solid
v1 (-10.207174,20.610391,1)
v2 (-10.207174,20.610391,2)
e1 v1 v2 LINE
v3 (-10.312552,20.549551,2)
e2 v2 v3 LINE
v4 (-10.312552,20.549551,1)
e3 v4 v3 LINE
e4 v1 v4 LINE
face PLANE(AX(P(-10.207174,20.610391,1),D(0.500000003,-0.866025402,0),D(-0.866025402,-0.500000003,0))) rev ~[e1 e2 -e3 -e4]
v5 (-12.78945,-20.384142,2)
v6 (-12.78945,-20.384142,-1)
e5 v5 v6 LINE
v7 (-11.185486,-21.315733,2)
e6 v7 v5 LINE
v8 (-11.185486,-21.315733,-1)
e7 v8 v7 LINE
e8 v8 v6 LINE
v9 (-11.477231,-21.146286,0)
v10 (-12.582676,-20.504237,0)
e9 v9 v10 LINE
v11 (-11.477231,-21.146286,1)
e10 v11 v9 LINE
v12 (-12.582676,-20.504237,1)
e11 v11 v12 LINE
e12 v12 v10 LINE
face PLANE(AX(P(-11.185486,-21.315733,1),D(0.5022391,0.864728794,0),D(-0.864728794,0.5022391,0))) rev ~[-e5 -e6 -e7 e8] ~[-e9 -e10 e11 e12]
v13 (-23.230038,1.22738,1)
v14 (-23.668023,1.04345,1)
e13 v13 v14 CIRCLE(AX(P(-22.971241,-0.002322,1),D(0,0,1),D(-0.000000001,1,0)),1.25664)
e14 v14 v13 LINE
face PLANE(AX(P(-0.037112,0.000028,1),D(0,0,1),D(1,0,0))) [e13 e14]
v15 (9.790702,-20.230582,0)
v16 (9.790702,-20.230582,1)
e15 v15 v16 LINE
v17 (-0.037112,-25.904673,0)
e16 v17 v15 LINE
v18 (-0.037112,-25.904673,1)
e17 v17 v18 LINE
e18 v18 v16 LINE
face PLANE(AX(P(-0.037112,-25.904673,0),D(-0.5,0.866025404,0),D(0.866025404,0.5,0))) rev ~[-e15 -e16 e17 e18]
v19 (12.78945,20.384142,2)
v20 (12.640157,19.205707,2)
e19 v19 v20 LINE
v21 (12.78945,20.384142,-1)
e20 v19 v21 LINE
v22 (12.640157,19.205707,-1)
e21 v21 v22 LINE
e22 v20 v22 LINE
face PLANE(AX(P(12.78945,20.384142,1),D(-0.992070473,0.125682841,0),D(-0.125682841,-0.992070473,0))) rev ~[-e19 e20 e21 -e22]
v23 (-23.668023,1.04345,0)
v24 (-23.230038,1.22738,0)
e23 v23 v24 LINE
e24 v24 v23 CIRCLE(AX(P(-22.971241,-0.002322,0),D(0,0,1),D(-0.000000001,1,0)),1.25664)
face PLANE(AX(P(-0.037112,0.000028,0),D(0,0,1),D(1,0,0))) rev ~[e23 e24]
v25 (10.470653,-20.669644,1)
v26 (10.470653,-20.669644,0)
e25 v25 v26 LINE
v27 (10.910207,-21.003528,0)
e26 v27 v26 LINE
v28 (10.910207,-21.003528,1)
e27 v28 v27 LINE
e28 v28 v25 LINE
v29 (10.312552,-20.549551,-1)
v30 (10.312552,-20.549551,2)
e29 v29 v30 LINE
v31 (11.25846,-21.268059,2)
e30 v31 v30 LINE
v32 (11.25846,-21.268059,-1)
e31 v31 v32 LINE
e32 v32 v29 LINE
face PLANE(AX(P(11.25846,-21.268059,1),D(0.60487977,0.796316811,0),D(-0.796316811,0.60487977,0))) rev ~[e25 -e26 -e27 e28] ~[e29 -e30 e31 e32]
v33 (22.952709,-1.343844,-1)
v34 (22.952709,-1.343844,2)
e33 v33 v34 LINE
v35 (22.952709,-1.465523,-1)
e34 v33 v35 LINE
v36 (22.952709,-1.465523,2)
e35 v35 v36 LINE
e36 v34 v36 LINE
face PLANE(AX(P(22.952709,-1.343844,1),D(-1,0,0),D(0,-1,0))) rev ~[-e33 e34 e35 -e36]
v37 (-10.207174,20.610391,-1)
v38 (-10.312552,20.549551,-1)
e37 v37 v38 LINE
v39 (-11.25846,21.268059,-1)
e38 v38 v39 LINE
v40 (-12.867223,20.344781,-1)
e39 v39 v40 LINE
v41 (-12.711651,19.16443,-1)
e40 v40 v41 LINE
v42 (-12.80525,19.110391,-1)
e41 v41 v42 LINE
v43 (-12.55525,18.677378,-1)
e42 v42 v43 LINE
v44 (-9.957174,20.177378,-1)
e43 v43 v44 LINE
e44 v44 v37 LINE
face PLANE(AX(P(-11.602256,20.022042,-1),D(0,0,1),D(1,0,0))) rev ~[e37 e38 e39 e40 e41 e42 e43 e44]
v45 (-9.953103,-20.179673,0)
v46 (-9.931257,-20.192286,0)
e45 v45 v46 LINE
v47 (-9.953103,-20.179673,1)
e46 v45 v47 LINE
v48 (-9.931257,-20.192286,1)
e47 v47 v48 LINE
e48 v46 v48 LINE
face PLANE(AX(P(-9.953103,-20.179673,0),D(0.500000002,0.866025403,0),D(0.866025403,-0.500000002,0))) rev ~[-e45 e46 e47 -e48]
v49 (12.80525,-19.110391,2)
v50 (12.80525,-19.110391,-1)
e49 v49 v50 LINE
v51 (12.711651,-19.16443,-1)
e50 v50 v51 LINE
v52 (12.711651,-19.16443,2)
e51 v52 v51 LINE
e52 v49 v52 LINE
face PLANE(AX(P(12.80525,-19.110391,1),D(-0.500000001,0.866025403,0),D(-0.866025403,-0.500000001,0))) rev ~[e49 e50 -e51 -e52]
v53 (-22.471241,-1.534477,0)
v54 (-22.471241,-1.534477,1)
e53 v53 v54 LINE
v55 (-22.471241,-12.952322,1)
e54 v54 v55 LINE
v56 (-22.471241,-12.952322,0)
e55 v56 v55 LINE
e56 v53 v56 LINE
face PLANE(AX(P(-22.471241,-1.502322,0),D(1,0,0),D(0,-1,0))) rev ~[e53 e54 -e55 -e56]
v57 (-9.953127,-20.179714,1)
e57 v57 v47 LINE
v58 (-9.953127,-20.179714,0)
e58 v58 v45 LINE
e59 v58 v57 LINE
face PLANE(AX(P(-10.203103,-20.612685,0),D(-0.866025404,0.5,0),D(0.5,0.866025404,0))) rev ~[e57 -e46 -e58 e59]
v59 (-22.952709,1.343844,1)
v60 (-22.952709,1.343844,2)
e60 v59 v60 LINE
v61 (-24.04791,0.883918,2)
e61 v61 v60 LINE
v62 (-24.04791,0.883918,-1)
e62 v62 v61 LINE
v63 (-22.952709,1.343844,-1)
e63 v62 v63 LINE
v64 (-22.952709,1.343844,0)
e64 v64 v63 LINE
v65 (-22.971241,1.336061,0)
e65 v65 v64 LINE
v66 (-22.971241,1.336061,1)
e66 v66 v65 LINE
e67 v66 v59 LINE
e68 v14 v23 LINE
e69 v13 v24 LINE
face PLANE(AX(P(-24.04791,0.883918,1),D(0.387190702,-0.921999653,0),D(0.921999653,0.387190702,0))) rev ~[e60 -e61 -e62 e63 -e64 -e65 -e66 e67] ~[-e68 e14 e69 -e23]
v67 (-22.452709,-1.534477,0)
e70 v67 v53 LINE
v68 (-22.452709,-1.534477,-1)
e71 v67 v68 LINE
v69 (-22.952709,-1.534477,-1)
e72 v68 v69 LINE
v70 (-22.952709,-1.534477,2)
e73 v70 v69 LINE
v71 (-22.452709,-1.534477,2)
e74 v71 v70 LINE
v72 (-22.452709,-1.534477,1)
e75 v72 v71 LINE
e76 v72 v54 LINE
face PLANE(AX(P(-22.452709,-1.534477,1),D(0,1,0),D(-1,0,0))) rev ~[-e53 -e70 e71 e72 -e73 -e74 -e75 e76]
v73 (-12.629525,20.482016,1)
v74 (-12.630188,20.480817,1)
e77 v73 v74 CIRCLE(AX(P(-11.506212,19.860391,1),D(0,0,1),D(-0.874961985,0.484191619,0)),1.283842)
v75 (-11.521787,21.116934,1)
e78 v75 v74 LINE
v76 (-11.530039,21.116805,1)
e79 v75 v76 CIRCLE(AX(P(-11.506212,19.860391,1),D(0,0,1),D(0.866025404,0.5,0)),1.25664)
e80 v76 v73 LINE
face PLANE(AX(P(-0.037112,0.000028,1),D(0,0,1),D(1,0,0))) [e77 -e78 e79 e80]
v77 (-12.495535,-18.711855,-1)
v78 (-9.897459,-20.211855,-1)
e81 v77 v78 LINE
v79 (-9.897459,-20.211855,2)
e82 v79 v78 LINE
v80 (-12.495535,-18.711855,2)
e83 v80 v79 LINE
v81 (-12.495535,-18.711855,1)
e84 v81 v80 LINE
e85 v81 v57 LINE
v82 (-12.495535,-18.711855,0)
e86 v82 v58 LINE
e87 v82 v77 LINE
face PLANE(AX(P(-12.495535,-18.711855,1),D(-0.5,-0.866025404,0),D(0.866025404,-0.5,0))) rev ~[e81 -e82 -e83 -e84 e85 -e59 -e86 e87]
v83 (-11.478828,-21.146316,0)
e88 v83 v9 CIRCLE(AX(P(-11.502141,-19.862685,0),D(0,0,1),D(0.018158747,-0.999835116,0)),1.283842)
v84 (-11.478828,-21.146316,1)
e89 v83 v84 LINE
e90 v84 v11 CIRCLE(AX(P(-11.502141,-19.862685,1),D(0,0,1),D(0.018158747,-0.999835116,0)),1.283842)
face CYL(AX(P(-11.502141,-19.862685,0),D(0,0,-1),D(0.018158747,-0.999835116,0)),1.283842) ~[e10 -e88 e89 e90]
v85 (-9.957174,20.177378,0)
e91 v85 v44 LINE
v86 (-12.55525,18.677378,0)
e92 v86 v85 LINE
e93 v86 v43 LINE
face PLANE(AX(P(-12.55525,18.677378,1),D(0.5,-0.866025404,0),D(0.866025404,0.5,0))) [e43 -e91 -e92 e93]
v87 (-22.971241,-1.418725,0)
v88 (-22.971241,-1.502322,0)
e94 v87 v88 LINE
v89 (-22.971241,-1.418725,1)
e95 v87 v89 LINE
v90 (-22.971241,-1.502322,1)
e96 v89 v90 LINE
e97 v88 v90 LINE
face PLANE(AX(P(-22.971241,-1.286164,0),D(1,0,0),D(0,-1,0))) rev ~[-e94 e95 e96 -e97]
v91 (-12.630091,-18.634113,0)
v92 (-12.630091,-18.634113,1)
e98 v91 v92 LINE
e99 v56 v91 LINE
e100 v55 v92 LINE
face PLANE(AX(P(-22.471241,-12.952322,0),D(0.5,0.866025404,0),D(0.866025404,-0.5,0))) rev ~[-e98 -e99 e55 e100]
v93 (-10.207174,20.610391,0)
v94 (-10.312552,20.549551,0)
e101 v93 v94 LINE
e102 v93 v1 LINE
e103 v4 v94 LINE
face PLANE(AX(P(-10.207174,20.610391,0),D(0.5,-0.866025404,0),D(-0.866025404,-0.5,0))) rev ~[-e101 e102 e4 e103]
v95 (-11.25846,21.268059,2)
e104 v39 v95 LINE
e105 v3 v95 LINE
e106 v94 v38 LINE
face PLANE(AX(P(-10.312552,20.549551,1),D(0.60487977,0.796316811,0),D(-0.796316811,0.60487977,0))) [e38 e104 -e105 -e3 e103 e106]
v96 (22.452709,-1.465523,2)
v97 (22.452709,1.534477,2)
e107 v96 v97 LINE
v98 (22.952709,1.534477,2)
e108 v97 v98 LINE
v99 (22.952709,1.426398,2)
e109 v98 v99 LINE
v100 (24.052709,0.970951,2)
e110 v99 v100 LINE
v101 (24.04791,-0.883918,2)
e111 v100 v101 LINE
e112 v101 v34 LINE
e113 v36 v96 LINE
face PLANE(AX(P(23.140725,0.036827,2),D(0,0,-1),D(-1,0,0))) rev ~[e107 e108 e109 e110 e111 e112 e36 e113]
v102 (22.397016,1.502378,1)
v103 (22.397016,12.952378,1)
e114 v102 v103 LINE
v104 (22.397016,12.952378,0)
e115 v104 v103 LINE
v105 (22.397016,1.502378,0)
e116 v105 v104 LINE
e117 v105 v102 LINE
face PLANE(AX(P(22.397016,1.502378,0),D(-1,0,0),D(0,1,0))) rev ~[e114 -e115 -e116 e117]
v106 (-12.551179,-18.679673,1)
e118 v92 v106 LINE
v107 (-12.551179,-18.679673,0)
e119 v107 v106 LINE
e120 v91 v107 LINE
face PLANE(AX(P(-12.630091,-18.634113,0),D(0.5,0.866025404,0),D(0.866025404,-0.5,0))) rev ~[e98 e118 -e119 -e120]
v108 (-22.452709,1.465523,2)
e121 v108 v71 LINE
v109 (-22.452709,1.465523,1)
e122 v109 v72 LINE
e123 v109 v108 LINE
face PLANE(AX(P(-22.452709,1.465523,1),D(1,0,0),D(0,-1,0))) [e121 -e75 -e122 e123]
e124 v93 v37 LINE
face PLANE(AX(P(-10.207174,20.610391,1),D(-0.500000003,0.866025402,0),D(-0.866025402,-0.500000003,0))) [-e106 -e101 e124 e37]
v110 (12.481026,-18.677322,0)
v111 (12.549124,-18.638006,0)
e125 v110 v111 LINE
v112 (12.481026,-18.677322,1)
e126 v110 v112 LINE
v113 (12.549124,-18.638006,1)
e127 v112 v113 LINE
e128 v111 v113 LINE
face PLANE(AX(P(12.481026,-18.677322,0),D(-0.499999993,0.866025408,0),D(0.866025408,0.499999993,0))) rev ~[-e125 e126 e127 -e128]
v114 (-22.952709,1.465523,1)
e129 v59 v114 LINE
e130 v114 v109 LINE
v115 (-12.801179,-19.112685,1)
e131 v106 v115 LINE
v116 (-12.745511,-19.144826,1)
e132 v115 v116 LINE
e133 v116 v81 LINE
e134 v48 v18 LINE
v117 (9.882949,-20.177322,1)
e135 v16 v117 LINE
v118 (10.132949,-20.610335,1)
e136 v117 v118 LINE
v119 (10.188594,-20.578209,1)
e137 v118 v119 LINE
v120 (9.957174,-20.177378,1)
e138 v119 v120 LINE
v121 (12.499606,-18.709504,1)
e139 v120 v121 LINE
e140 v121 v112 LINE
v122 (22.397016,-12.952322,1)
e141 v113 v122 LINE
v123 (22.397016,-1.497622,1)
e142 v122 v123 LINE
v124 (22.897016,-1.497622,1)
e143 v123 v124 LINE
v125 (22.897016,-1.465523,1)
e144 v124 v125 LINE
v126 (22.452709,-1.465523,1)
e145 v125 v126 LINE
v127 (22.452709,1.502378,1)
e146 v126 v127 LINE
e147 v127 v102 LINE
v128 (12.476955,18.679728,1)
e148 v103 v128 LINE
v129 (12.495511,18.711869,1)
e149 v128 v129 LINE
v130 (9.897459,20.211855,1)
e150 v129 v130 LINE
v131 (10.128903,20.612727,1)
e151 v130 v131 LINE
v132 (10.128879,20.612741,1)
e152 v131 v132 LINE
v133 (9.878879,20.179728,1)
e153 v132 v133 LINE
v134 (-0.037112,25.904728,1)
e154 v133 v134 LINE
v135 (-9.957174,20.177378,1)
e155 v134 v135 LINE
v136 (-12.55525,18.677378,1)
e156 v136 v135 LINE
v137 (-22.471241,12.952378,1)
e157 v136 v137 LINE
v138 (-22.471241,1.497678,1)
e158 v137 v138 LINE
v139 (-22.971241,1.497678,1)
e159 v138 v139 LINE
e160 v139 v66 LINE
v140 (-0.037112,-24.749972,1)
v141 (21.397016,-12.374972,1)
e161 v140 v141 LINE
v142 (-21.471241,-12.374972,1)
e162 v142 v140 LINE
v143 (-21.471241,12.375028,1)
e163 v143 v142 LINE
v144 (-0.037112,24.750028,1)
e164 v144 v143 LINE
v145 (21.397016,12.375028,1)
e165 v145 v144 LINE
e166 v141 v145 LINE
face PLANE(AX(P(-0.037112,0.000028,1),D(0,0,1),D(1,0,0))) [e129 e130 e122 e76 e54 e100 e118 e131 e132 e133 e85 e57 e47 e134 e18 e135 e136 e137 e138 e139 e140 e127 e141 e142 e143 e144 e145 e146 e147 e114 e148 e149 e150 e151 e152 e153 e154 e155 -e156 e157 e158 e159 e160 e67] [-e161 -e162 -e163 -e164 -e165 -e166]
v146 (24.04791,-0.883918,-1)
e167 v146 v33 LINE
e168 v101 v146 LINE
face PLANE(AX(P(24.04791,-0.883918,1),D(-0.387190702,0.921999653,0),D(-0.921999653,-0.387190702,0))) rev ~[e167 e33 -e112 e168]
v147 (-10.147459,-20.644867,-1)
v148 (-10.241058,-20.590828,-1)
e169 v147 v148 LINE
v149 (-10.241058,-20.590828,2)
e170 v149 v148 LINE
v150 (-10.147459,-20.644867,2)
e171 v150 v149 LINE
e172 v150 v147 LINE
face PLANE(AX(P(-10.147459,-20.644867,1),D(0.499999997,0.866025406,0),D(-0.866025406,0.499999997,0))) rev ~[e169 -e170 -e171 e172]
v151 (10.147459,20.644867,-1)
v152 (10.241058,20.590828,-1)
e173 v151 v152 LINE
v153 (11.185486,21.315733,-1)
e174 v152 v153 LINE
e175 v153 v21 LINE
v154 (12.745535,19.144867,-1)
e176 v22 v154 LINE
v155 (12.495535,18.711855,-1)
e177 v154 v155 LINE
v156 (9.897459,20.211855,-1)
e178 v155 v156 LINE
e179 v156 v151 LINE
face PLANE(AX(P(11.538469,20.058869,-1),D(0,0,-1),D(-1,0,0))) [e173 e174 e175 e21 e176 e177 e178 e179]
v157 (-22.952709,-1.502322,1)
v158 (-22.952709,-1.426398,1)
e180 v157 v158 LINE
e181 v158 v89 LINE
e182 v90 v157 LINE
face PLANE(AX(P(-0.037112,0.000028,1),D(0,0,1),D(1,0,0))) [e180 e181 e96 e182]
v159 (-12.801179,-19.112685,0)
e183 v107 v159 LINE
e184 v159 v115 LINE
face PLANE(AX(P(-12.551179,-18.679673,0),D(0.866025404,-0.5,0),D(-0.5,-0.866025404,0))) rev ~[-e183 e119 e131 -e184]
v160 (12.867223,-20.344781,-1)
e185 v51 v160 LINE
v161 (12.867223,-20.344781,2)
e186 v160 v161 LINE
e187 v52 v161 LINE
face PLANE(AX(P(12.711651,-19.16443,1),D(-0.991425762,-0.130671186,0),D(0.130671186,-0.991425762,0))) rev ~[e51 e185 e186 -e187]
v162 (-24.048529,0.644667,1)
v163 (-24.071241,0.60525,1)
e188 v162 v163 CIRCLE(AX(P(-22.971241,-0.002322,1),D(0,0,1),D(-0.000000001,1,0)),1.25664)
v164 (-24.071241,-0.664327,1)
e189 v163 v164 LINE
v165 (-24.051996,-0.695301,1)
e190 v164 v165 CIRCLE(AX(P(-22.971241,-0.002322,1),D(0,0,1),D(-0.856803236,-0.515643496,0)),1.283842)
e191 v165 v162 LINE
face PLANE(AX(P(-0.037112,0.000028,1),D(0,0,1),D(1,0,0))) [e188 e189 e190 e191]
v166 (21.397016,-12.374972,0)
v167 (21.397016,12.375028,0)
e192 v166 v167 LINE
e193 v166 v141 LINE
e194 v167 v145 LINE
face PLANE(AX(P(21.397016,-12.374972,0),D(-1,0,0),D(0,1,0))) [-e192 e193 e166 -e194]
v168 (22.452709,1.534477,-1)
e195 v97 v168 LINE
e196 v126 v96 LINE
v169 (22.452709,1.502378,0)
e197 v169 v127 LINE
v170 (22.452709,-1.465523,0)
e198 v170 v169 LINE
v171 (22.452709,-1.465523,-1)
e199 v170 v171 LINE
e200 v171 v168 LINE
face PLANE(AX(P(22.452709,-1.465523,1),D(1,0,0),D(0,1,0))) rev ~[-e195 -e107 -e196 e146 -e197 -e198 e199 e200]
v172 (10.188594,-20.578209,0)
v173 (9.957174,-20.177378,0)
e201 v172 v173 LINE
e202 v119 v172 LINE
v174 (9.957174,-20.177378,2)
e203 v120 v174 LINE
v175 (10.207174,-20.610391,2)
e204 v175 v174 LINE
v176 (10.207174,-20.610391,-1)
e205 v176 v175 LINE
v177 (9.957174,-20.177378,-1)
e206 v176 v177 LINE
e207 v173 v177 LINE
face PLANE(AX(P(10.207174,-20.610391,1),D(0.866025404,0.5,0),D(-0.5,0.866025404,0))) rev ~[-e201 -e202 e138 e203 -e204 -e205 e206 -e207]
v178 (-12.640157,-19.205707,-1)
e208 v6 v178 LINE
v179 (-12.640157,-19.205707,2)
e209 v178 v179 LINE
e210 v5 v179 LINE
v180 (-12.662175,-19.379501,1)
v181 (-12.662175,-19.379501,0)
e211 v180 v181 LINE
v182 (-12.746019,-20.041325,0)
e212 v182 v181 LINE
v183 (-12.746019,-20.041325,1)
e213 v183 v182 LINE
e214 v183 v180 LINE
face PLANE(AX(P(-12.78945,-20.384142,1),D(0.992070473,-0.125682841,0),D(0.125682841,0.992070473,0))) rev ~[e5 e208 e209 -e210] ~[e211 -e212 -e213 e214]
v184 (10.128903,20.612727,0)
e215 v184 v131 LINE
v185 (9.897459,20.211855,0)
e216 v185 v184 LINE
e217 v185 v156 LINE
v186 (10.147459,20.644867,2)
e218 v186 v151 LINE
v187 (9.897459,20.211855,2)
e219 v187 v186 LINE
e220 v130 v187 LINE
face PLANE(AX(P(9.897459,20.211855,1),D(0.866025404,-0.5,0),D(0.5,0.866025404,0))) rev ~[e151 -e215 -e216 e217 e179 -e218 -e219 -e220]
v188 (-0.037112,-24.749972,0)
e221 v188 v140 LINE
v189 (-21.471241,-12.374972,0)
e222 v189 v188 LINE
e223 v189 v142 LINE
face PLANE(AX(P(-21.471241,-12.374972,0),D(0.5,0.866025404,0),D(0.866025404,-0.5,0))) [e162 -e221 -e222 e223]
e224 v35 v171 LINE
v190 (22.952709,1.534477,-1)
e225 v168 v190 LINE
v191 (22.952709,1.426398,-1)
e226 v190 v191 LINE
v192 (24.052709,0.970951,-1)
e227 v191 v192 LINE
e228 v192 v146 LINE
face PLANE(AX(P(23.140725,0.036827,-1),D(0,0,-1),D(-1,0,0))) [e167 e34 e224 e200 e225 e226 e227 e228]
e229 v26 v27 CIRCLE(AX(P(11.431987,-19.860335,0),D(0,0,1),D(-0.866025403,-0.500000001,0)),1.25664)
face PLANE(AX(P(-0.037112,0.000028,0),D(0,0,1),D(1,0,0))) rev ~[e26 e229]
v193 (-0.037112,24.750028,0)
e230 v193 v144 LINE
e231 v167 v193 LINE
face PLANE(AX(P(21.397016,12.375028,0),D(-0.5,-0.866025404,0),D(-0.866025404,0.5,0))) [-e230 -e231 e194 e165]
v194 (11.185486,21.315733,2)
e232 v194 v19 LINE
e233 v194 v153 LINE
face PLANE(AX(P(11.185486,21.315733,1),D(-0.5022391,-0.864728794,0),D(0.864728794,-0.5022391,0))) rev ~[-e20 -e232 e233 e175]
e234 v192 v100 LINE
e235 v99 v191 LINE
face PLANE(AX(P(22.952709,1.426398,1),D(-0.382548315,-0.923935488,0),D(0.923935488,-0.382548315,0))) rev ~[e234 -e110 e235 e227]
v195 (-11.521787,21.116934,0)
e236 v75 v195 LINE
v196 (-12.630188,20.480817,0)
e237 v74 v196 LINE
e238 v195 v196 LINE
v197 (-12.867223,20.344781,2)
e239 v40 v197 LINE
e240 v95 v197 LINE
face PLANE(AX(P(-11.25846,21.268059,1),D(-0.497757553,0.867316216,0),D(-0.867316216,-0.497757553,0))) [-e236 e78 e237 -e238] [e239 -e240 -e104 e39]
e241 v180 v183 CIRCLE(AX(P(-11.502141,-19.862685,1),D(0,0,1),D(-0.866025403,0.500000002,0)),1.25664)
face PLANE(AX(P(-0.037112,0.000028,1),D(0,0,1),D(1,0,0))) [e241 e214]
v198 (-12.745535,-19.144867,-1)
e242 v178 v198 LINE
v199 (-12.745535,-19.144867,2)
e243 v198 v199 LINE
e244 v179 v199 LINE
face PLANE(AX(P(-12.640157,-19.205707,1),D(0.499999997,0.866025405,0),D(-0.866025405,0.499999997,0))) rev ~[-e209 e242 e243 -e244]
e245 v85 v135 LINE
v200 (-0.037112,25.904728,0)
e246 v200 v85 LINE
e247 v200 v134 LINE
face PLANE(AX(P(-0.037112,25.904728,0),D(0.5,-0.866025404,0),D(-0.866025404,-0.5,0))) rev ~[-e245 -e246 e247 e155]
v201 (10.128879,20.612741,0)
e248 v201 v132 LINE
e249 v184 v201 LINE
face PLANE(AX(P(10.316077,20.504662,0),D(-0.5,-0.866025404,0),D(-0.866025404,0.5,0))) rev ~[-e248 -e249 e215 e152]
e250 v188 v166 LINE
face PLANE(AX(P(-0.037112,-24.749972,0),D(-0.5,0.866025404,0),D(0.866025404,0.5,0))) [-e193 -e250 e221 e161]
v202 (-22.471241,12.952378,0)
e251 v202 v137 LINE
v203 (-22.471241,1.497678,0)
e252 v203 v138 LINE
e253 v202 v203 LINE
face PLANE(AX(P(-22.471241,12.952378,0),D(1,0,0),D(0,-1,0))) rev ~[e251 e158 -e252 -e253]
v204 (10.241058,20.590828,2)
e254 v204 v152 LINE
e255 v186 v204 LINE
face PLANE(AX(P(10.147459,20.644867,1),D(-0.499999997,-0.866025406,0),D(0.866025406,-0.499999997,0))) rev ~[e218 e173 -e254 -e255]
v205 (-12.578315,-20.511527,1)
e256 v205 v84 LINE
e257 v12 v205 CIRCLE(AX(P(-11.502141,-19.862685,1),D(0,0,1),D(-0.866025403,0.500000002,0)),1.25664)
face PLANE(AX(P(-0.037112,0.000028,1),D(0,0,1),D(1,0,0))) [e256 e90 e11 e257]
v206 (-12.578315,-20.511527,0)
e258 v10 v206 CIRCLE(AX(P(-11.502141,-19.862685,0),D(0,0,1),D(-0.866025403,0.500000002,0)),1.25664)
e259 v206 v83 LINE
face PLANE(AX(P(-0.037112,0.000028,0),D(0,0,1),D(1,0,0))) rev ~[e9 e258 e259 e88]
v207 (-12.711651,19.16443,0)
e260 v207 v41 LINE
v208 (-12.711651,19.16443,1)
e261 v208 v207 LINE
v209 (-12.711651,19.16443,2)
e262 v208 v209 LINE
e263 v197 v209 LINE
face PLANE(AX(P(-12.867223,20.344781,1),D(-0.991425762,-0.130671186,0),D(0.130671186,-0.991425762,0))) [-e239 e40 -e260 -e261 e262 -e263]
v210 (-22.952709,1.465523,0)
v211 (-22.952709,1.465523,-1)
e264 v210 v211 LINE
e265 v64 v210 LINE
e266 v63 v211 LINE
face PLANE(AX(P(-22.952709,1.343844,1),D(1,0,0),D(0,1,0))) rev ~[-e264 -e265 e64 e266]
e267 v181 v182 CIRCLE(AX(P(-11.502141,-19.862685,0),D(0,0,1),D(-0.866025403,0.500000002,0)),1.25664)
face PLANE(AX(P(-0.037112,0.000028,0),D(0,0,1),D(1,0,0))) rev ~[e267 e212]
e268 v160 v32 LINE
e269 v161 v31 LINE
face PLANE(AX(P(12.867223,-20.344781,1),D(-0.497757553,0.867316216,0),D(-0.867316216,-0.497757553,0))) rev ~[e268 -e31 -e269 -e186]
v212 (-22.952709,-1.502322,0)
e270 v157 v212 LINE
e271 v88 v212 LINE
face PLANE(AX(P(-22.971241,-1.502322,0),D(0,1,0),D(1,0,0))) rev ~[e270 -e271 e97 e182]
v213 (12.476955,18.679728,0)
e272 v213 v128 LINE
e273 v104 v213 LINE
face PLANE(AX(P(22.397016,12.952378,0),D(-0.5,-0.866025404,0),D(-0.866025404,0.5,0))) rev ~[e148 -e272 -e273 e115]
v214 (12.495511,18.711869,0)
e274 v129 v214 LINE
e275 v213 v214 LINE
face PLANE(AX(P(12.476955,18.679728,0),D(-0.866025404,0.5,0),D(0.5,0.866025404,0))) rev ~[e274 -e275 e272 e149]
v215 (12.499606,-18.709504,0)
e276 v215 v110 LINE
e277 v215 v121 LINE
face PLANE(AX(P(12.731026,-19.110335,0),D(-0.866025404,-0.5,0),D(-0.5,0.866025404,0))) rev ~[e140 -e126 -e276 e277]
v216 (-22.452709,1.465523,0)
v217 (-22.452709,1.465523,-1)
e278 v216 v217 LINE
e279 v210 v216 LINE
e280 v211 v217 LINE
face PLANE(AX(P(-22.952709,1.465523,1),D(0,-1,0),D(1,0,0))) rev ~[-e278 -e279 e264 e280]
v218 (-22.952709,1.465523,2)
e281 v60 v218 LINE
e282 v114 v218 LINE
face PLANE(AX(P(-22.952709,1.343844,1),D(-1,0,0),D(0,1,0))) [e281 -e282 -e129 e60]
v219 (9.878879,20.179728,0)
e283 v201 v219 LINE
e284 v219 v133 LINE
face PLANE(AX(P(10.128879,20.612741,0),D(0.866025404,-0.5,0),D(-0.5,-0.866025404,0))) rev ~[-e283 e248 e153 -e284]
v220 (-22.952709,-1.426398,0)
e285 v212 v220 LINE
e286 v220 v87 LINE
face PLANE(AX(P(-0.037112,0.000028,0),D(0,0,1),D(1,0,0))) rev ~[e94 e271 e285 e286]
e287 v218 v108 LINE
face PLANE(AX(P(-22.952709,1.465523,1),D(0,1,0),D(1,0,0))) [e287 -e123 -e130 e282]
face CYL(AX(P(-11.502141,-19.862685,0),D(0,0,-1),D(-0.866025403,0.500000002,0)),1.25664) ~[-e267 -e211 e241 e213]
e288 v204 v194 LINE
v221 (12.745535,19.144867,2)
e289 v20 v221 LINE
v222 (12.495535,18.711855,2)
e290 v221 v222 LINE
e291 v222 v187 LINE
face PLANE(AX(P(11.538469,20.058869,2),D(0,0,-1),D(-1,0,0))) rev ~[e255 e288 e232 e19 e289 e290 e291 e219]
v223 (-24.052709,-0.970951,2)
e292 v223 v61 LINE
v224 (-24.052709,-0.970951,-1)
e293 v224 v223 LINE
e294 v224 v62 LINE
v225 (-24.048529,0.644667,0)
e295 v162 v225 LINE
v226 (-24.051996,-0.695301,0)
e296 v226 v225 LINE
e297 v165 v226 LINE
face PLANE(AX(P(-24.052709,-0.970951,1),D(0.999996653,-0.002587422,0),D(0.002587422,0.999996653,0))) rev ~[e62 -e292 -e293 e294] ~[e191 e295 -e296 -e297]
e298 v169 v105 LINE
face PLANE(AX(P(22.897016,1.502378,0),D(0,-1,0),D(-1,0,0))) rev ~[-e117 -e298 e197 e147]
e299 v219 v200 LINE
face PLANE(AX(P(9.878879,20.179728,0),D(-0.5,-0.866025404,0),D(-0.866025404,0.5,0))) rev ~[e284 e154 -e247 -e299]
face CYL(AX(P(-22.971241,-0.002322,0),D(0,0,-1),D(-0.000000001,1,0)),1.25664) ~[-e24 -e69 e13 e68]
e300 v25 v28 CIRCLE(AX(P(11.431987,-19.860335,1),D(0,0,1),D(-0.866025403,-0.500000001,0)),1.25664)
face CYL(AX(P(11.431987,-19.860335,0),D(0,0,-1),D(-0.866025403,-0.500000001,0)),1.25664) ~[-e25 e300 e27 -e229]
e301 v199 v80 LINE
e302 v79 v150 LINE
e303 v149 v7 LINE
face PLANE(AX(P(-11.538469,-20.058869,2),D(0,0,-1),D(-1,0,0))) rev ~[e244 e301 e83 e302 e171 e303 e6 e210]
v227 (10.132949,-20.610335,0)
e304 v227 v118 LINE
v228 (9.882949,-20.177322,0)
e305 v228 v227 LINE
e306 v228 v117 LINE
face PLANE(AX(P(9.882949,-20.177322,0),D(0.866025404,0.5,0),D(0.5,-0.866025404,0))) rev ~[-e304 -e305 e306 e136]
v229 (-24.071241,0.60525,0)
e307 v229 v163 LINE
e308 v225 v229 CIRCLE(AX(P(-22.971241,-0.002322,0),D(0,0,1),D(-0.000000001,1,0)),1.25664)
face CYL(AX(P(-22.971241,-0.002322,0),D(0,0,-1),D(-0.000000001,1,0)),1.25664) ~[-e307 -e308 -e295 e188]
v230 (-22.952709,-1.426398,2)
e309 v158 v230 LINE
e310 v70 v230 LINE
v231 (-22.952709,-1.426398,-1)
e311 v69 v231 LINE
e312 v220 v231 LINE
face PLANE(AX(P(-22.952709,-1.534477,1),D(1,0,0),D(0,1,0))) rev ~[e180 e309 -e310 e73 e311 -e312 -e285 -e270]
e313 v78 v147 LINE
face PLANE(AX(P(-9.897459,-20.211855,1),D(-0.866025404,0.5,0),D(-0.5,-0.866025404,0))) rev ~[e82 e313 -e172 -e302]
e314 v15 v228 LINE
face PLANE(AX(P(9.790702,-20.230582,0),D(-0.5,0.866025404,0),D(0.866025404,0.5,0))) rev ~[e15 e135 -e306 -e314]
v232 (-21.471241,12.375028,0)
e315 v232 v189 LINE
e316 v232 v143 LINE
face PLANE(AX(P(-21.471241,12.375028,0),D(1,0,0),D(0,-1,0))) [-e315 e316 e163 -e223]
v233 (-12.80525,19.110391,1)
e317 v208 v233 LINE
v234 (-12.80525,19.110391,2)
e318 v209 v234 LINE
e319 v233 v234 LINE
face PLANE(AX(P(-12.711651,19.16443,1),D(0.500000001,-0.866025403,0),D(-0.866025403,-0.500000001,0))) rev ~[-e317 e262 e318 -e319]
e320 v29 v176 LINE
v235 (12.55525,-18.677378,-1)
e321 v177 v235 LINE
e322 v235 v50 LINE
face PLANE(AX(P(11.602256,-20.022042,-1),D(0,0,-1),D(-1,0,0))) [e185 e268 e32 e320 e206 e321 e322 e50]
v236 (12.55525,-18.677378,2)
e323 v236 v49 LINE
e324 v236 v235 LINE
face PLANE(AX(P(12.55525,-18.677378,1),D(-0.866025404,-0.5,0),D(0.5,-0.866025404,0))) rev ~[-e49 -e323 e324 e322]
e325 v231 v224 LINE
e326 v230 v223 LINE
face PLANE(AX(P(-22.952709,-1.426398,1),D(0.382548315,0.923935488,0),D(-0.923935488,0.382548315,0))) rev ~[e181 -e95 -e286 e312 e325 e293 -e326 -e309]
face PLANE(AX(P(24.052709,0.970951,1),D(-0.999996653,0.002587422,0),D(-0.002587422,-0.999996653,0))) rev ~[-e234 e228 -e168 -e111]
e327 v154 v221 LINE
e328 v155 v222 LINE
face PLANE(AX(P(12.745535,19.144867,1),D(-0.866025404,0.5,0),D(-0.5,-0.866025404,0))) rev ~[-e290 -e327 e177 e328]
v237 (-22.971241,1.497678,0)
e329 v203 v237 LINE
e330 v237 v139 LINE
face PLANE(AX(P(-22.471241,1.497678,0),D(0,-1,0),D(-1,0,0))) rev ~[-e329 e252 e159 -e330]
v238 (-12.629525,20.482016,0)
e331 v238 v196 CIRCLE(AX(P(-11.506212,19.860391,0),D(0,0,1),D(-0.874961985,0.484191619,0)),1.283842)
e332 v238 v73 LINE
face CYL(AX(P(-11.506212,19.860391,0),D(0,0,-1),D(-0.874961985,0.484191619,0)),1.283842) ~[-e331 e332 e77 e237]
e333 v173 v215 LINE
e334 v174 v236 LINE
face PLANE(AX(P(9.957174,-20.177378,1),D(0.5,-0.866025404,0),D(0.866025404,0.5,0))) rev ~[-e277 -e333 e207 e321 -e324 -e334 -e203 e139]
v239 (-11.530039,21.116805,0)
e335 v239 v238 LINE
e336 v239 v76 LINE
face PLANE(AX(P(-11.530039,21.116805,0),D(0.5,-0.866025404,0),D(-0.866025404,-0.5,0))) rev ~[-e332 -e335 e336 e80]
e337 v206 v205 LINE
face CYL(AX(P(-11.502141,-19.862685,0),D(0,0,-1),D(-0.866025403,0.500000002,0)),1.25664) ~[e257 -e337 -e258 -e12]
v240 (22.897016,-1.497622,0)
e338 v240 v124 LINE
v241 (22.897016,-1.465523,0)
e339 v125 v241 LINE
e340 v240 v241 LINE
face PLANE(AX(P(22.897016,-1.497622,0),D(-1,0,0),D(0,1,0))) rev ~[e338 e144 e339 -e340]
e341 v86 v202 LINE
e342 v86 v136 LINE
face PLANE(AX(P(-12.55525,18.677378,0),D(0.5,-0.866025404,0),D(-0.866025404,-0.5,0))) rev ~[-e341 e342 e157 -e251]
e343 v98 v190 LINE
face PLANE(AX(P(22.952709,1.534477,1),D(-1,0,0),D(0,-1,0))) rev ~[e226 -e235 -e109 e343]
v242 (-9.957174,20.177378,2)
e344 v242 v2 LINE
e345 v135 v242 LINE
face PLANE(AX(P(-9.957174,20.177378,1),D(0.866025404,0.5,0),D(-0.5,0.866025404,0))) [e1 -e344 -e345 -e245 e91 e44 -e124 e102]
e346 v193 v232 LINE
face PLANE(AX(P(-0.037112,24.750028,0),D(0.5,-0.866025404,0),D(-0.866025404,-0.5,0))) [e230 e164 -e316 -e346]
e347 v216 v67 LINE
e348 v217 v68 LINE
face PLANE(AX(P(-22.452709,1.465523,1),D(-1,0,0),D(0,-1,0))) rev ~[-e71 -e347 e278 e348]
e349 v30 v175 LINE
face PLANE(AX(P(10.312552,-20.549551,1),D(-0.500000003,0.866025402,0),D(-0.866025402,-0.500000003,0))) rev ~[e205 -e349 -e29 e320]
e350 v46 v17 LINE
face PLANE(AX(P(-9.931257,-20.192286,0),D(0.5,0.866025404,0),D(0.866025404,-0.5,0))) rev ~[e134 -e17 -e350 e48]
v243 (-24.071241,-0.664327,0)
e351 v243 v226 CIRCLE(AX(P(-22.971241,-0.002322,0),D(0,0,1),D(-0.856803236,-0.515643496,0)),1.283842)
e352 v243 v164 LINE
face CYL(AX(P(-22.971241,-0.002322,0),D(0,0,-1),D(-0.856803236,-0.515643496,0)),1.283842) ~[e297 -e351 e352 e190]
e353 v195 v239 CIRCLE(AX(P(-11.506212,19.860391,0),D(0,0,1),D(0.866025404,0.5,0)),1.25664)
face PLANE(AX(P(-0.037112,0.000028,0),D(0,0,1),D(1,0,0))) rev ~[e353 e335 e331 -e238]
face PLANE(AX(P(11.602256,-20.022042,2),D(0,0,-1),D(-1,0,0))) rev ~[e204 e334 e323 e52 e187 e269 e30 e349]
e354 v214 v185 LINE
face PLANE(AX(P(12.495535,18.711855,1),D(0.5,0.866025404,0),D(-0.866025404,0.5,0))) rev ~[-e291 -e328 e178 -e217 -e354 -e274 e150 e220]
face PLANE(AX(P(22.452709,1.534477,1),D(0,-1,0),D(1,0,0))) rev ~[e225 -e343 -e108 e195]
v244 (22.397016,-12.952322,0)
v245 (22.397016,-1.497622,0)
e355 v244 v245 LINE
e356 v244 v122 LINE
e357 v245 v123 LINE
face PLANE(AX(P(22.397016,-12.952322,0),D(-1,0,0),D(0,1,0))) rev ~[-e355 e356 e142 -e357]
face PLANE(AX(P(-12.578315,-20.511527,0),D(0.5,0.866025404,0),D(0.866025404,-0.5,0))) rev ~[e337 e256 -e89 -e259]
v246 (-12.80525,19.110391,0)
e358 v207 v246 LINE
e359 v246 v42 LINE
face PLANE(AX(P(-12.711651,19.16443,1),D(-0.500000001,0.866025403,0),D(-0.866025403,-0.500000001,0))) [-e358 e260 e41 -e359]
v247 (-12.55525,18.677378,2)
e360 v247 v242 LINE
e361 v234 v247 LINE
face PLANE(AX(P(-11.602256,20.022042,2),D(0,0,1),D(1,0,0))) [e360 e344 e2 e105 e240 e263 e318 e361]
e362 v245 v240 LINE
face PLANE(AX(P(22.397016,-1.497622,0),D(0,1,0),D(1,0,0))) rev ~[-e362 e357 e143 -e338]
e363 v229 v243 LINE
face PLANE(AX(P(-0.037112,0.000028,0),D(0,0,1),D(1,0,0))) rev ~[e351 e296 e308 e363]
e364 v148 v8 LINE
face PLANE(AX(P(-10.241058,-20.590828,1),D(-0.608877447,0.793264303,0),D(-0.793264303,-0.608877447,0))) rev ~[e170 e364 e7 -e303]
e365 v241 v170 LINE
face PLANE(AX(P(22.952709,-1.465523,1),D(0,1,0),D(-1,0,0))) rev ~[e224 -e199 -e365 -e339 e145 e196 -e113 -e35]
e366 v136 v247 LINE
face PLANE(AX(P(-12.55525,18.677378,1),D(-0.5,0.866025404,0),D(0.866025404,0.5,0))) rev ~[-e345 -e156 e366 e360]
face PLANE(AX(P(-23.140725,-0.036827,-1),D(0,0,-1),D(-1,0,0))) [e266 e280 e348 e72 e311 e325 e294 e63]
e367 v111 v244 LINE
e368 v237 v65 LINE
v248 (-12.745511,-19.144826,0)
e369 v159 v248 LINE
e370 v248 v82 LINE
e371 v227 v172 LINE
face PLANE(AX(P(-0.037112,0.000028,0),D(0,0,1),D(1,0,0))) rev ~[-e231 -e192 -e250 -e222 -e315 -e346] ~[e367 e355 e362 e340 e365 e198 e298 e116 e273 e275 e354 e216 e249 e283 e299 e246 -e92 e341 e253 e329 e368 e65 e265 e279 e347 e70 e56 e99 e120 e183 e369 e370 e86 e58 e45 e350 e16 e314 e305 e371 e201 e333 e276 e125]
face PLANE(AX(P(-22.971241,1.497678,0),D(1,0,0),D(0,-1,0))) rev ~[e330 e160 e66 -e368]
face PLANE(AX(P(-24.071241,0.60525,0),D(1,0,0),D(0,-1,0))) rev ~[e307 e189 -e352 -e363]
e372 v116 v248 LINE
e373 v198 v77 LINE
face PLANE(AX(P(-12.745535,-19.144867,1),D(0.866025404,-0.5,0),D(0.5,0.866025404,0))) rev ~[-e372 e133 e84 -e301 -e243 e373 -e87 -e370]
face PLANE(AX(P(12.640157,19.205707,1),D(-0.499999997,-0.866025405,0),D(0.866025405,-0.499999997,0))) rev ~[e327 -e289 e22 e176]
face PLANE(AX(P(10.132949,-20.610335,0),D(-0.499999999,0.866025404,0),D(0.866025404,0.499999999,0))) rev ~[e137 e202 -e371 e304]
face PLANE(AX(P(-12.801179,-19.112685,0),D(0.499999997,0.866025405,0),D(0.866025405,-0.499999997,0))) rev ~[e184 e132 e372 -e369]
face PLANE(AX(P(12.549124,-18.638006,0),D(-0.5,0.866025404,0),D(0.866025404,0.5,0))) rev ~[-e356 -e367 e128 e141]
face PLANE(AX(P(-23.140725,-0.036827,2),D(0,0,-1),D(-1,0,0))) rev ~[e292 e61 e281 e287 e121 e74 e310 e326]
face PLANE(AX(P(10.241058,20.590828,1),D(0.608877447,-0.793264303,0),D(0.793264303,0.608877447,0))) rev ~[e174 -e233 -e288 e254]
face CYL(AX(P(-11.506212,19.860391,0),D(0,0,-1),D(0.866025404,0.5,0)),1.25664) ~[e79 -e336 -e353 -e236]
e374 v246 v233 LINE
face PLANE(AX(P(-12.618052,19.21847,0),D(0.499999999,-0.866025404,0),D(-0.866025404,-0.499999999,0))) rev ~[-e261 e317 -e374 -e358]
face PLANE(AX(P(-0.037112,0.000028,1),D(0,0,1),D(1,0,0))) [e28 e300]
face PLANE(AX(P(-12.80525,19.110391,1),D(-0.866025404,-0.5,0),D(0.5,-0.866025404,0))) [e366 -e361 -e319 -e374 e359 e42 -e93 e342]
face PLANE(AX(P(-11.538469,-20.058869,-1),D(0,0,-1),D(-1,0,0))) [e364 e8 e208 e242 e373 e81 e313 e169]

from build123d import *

# Parameters (mm, degrees)
BOSS_EXTRUDE1_DEPTH      = 1
BOSS_EXTRUDE2_DEPTH      = 1
BOSS_EXTRUDE2_DEPTH_BACK = 2


with BuildPart() as part:
    # Sketch1 → Boss-Extrude1 (new body)
    with BuildSketch(Plane.XY):
        with BuildLine():
            Line((22.397016434, 12.952378094), (12.476954775, 18.679728363))
            Line((12.476954775, 18.679728363), (12.726954775, 19.112741065))
            Line((12.726954775, 19.112741065), (12.516198987, 19.234420976))
            ThreePointArc((12.516198987, 19.234420976), (12.68450037, 19.874654921), (12.504090028, 20.511582679))
            Line((12.504090028, 20.511582679), (11.404603705, 21.146371403))
            ThreePointArc((11.404603705, 21.146371403), (10.775926893, 20.968706558), (10.316076863, 20.504662076))
            Line((10.316076863, 20.504662076), (10.128878563, 20.612741065))
            Line((10.128878563, 20.612741065), (9.878878563, 20.179728363))
            Line((9.878878563, 20.179728363), (-0.03711231, 25.904728363))
            Line((-0.03711231, 25.904728363), (-9.957173969, 20.177378094))
            Line((-9.957173969, 20.177378094), (-10.207173969, 20.610390796))
            Line((-10.207173969, 20.610390796), (-10.417929757, 20.488710885))
            ThreePointArc((-10.417929757, 20.488710885), (-10.888237926, 20.954581131), (-11.530038716, 21.116805071))
            Line((-11.530038716, 21.116805071), (-12.629525039, 20.482016346))
            ThreePointArc((-12.629525039, 20.482016346), (-12.790001175, 19.848733833), (-12.618051881, 19.218469784))
            Line((-12.618051881, 19.218469784), (-12.80525018, 19.110390796))
            Line((-12.80525018, 19.110390796), (-12.55525018, 18.677378094))
            Line((-12.55525018, 18.677378094), (-22.471241054, 12.952378094))
            Line((-22.471241054, 12.952378094), (-22.471241054, 1.901120277))
            Line((-22.471241054, 1.901120277), (-22.471241054, 1.497677556))
            Line((-22.471241054, 1.497677556), (-22.971241054, 1.497677556))
            Line((-22.971241054, 1.497677556), (-22.971241054, 1.254317734))
            ThreePointArc((-22.971241054, 1.254317734), (-23.609850606, 1.079954035), (-24.071241054, 0.605250217))
            Line((-24.071241054, 0.605250217), (-24.071241054, -0.664327233))
            ThreePointArc((-24.071241054, -0.664327233), (-23.603040378, -1.1199449), (-22.971241054, -1.286164467))
            Line((-22.971241054, -1.286164467), (-22.971241054, -1.502322444))
            Line((-22.971241054, -1.502322444), (-22.471241054, -1.502322444))
            Line((-22.471241054, -1.502322444), (-22.471241054, -1.596383326))
            Line((-22.471241054, -1.596383326), (-22.471241054, -12.952322444))
            Line((-22.471241054, -12.952322444), (-12.630090814, -18.634113185))
            Line((-12.630090814, -18.634113185), (-12.551179395, -18.679672714))
            Line((-12.551179395, -18.679672714), (-12.801179395, -19.112685416))
            Line((-12.801179395, -19.112685416), (-12.590423607, -19.234365326))
            ThreePointArc((-12.590423607, -19.234365326), (-12.758724991, -19.874599271), (-12.578314648, -20.511527029))
            Line((-12.578314648, -20.511527029), (-11.478828325, -21.146315754))
            ThreePointArc((-11.478828325, -21.146315754), (-10.850151513, -20.968650909), (-10.390301483, -20.504606427))
            Line((-10.390301483, -20.504606427), (-10.203103183, -20.612685416))
            Line((-10.203103183, -20.612685416), (-9.953103183, -20.179672714))
            Line((-9.953103183, -20.179672714), (-9.931256757, -20.192285754))
            Line((-9.931256757, -20.192285754), (-0.03711231, -25.904672714))
            Line((-0.03711231, -25.904672714), (9.790701603, -20.230581705))
            Line((9.790701603, -20.230581705), (9.882949349, -20.177322444))
            Line((9.882949349, -20.177322444), (10.132949349, -20.610335146))
            Line((10.132949349, -20.610335146), (10.343705136, -20.488655236))
            ThreePointArc((10.343705136, -20.488655236), (10.814013306, -20.954525482), (11.455814095, -21.116749421))
            Line((11.455814095, -21.116749421), (12.555300419, -20.481960696))
            ThreePointArc((12.555300419, -20.481960696), (12.715776555, -19.848678184), (12.543827261, -19.218414135))
            Line((12.543827261, -19.218414135), (12.73102556, -19.110335146))
            Line((12.73102556, -19.110335146), (12.48102556, -18.677322444))
            Line((12.48102556, -18.677322444), (12.549124227, -18.638005661))
            Line((12.549124227, -18.638005661), (22.397016434, -12.952322444))
            Line((22.397016434, -12.952322444), (22.397016434, -1.497621906))
            Line((22.397016434, -1.497621906), (22.897016434, -1.497621906))
            Line((22.897016434, -1.497621906), (22.897016434, -1.254262085))
            ThreePointArc((22.897016434, -1.254262085), (23.535625986, -1.079898386), (23.997016434, -0.605194567))
            Line((23.997016434, -0.605194567), (23.997016434, 0.664382882))
            ThreePointArc((23.997016434, 0.664382882), (23.528815758, 1.120000549), (22.897016434, 1.286220117))
            Line((22.897016434, 1.286220117), (22.897016434, 1.502378094))
            Line((22.897016434, 1.502378094), (22.397016434, 1.502378094))
            Line((22.397016434, 1.502378094), (22.397016434, 12.952378094))
        make_face()
        Polygon((21.397016434, 12.375027825), (-0.03711231, 24.750027825), (-21.471241054, 12.375027825), (-21.471241054, -12.374972175), (-0.03711231, -24.749972175), (21.397016434, -12.374972175), align=None, mode=Mode.SUBTRACT)
    extrude(amount=BOSS_EXTRUDE1_DEPTH)

    # Sketch2 → Boss-Extrude2 (add, two sides)
    with BuildSketch(Plane.XY.offset(1)) as boss_extrude2_sk:
        Polygon((-12.55525018, 18.677378094), (-9.957173969, 20.177378094), (-10.207173969, 20.610390796), (-10.312551863, 20.54955084), (-11.258459696, 21.268059485), (-12.867222828, 20.344781463), (-12.711651031, 19.16443029), (-12.80525018, 19.110390796), align=None)
        Polygon((11.185486168, 21.315732577), (12.789449955, 20.384141846), (12.640157133, 19.205707311), (12.745535027, 19.144867356), (12.495535027, 18.711854654), (9.897458815, 20.211854654), (10.147458815, 20.644867356), (10.241057965, 20.590827862), align=None)
        Polygon((24.052708996, 0.970951113), (24.047909651, -0.883917639), (22.952708996, -1.343843529), (22.952708996, -1.46552344), (22.452708996, -1.46552344), (22.452708996, 1.53447656), (22.952708996, 1.53447656), (22.952708996, 1.426397572), align=None)
        Polygon((12.867222828, -20.344781463), (11.258459696, -21.268059485), (10.312551863, -20.54955084), (10.207173969, -20.610390796), (9.957173969, -20.177378094), (12.55525018, -18.677378094), (12.80525018, -19.110390796), (12.711651031, -19.16443029), align=None)
        Polygon((-11.185486168, -21.315732577), (-12.789449955, -20.384141846), (-12.640157133, -19.205707311), (-12.745535027, -19.144867356), (-12.495535027, -18.711854654), (-9.897458815, -20.211854654), (-10.147458815, -20.644867356), (-10.241057965, -20.590827862), align=None)
        Polygon((-24.052708996, -0.970951113), (-24.047909651, 0.883917639), (-22.952708996, 1.343843529), (-22.952708996, 1.46552344), (-22.452708996, 1.46552344), (-22.452708996, -1.53447656), (-22.952708996, -1.53447656), (-22.952708996, -1.426397572), align=None)
    extrude(amount=BOSS_EXTRUDE2_DEPTH)
    extrude(boss_extrude2_sk.sketch, amount=-BOSS_EXTRUDE2_DEPTH_BACK)


solid = part.part
